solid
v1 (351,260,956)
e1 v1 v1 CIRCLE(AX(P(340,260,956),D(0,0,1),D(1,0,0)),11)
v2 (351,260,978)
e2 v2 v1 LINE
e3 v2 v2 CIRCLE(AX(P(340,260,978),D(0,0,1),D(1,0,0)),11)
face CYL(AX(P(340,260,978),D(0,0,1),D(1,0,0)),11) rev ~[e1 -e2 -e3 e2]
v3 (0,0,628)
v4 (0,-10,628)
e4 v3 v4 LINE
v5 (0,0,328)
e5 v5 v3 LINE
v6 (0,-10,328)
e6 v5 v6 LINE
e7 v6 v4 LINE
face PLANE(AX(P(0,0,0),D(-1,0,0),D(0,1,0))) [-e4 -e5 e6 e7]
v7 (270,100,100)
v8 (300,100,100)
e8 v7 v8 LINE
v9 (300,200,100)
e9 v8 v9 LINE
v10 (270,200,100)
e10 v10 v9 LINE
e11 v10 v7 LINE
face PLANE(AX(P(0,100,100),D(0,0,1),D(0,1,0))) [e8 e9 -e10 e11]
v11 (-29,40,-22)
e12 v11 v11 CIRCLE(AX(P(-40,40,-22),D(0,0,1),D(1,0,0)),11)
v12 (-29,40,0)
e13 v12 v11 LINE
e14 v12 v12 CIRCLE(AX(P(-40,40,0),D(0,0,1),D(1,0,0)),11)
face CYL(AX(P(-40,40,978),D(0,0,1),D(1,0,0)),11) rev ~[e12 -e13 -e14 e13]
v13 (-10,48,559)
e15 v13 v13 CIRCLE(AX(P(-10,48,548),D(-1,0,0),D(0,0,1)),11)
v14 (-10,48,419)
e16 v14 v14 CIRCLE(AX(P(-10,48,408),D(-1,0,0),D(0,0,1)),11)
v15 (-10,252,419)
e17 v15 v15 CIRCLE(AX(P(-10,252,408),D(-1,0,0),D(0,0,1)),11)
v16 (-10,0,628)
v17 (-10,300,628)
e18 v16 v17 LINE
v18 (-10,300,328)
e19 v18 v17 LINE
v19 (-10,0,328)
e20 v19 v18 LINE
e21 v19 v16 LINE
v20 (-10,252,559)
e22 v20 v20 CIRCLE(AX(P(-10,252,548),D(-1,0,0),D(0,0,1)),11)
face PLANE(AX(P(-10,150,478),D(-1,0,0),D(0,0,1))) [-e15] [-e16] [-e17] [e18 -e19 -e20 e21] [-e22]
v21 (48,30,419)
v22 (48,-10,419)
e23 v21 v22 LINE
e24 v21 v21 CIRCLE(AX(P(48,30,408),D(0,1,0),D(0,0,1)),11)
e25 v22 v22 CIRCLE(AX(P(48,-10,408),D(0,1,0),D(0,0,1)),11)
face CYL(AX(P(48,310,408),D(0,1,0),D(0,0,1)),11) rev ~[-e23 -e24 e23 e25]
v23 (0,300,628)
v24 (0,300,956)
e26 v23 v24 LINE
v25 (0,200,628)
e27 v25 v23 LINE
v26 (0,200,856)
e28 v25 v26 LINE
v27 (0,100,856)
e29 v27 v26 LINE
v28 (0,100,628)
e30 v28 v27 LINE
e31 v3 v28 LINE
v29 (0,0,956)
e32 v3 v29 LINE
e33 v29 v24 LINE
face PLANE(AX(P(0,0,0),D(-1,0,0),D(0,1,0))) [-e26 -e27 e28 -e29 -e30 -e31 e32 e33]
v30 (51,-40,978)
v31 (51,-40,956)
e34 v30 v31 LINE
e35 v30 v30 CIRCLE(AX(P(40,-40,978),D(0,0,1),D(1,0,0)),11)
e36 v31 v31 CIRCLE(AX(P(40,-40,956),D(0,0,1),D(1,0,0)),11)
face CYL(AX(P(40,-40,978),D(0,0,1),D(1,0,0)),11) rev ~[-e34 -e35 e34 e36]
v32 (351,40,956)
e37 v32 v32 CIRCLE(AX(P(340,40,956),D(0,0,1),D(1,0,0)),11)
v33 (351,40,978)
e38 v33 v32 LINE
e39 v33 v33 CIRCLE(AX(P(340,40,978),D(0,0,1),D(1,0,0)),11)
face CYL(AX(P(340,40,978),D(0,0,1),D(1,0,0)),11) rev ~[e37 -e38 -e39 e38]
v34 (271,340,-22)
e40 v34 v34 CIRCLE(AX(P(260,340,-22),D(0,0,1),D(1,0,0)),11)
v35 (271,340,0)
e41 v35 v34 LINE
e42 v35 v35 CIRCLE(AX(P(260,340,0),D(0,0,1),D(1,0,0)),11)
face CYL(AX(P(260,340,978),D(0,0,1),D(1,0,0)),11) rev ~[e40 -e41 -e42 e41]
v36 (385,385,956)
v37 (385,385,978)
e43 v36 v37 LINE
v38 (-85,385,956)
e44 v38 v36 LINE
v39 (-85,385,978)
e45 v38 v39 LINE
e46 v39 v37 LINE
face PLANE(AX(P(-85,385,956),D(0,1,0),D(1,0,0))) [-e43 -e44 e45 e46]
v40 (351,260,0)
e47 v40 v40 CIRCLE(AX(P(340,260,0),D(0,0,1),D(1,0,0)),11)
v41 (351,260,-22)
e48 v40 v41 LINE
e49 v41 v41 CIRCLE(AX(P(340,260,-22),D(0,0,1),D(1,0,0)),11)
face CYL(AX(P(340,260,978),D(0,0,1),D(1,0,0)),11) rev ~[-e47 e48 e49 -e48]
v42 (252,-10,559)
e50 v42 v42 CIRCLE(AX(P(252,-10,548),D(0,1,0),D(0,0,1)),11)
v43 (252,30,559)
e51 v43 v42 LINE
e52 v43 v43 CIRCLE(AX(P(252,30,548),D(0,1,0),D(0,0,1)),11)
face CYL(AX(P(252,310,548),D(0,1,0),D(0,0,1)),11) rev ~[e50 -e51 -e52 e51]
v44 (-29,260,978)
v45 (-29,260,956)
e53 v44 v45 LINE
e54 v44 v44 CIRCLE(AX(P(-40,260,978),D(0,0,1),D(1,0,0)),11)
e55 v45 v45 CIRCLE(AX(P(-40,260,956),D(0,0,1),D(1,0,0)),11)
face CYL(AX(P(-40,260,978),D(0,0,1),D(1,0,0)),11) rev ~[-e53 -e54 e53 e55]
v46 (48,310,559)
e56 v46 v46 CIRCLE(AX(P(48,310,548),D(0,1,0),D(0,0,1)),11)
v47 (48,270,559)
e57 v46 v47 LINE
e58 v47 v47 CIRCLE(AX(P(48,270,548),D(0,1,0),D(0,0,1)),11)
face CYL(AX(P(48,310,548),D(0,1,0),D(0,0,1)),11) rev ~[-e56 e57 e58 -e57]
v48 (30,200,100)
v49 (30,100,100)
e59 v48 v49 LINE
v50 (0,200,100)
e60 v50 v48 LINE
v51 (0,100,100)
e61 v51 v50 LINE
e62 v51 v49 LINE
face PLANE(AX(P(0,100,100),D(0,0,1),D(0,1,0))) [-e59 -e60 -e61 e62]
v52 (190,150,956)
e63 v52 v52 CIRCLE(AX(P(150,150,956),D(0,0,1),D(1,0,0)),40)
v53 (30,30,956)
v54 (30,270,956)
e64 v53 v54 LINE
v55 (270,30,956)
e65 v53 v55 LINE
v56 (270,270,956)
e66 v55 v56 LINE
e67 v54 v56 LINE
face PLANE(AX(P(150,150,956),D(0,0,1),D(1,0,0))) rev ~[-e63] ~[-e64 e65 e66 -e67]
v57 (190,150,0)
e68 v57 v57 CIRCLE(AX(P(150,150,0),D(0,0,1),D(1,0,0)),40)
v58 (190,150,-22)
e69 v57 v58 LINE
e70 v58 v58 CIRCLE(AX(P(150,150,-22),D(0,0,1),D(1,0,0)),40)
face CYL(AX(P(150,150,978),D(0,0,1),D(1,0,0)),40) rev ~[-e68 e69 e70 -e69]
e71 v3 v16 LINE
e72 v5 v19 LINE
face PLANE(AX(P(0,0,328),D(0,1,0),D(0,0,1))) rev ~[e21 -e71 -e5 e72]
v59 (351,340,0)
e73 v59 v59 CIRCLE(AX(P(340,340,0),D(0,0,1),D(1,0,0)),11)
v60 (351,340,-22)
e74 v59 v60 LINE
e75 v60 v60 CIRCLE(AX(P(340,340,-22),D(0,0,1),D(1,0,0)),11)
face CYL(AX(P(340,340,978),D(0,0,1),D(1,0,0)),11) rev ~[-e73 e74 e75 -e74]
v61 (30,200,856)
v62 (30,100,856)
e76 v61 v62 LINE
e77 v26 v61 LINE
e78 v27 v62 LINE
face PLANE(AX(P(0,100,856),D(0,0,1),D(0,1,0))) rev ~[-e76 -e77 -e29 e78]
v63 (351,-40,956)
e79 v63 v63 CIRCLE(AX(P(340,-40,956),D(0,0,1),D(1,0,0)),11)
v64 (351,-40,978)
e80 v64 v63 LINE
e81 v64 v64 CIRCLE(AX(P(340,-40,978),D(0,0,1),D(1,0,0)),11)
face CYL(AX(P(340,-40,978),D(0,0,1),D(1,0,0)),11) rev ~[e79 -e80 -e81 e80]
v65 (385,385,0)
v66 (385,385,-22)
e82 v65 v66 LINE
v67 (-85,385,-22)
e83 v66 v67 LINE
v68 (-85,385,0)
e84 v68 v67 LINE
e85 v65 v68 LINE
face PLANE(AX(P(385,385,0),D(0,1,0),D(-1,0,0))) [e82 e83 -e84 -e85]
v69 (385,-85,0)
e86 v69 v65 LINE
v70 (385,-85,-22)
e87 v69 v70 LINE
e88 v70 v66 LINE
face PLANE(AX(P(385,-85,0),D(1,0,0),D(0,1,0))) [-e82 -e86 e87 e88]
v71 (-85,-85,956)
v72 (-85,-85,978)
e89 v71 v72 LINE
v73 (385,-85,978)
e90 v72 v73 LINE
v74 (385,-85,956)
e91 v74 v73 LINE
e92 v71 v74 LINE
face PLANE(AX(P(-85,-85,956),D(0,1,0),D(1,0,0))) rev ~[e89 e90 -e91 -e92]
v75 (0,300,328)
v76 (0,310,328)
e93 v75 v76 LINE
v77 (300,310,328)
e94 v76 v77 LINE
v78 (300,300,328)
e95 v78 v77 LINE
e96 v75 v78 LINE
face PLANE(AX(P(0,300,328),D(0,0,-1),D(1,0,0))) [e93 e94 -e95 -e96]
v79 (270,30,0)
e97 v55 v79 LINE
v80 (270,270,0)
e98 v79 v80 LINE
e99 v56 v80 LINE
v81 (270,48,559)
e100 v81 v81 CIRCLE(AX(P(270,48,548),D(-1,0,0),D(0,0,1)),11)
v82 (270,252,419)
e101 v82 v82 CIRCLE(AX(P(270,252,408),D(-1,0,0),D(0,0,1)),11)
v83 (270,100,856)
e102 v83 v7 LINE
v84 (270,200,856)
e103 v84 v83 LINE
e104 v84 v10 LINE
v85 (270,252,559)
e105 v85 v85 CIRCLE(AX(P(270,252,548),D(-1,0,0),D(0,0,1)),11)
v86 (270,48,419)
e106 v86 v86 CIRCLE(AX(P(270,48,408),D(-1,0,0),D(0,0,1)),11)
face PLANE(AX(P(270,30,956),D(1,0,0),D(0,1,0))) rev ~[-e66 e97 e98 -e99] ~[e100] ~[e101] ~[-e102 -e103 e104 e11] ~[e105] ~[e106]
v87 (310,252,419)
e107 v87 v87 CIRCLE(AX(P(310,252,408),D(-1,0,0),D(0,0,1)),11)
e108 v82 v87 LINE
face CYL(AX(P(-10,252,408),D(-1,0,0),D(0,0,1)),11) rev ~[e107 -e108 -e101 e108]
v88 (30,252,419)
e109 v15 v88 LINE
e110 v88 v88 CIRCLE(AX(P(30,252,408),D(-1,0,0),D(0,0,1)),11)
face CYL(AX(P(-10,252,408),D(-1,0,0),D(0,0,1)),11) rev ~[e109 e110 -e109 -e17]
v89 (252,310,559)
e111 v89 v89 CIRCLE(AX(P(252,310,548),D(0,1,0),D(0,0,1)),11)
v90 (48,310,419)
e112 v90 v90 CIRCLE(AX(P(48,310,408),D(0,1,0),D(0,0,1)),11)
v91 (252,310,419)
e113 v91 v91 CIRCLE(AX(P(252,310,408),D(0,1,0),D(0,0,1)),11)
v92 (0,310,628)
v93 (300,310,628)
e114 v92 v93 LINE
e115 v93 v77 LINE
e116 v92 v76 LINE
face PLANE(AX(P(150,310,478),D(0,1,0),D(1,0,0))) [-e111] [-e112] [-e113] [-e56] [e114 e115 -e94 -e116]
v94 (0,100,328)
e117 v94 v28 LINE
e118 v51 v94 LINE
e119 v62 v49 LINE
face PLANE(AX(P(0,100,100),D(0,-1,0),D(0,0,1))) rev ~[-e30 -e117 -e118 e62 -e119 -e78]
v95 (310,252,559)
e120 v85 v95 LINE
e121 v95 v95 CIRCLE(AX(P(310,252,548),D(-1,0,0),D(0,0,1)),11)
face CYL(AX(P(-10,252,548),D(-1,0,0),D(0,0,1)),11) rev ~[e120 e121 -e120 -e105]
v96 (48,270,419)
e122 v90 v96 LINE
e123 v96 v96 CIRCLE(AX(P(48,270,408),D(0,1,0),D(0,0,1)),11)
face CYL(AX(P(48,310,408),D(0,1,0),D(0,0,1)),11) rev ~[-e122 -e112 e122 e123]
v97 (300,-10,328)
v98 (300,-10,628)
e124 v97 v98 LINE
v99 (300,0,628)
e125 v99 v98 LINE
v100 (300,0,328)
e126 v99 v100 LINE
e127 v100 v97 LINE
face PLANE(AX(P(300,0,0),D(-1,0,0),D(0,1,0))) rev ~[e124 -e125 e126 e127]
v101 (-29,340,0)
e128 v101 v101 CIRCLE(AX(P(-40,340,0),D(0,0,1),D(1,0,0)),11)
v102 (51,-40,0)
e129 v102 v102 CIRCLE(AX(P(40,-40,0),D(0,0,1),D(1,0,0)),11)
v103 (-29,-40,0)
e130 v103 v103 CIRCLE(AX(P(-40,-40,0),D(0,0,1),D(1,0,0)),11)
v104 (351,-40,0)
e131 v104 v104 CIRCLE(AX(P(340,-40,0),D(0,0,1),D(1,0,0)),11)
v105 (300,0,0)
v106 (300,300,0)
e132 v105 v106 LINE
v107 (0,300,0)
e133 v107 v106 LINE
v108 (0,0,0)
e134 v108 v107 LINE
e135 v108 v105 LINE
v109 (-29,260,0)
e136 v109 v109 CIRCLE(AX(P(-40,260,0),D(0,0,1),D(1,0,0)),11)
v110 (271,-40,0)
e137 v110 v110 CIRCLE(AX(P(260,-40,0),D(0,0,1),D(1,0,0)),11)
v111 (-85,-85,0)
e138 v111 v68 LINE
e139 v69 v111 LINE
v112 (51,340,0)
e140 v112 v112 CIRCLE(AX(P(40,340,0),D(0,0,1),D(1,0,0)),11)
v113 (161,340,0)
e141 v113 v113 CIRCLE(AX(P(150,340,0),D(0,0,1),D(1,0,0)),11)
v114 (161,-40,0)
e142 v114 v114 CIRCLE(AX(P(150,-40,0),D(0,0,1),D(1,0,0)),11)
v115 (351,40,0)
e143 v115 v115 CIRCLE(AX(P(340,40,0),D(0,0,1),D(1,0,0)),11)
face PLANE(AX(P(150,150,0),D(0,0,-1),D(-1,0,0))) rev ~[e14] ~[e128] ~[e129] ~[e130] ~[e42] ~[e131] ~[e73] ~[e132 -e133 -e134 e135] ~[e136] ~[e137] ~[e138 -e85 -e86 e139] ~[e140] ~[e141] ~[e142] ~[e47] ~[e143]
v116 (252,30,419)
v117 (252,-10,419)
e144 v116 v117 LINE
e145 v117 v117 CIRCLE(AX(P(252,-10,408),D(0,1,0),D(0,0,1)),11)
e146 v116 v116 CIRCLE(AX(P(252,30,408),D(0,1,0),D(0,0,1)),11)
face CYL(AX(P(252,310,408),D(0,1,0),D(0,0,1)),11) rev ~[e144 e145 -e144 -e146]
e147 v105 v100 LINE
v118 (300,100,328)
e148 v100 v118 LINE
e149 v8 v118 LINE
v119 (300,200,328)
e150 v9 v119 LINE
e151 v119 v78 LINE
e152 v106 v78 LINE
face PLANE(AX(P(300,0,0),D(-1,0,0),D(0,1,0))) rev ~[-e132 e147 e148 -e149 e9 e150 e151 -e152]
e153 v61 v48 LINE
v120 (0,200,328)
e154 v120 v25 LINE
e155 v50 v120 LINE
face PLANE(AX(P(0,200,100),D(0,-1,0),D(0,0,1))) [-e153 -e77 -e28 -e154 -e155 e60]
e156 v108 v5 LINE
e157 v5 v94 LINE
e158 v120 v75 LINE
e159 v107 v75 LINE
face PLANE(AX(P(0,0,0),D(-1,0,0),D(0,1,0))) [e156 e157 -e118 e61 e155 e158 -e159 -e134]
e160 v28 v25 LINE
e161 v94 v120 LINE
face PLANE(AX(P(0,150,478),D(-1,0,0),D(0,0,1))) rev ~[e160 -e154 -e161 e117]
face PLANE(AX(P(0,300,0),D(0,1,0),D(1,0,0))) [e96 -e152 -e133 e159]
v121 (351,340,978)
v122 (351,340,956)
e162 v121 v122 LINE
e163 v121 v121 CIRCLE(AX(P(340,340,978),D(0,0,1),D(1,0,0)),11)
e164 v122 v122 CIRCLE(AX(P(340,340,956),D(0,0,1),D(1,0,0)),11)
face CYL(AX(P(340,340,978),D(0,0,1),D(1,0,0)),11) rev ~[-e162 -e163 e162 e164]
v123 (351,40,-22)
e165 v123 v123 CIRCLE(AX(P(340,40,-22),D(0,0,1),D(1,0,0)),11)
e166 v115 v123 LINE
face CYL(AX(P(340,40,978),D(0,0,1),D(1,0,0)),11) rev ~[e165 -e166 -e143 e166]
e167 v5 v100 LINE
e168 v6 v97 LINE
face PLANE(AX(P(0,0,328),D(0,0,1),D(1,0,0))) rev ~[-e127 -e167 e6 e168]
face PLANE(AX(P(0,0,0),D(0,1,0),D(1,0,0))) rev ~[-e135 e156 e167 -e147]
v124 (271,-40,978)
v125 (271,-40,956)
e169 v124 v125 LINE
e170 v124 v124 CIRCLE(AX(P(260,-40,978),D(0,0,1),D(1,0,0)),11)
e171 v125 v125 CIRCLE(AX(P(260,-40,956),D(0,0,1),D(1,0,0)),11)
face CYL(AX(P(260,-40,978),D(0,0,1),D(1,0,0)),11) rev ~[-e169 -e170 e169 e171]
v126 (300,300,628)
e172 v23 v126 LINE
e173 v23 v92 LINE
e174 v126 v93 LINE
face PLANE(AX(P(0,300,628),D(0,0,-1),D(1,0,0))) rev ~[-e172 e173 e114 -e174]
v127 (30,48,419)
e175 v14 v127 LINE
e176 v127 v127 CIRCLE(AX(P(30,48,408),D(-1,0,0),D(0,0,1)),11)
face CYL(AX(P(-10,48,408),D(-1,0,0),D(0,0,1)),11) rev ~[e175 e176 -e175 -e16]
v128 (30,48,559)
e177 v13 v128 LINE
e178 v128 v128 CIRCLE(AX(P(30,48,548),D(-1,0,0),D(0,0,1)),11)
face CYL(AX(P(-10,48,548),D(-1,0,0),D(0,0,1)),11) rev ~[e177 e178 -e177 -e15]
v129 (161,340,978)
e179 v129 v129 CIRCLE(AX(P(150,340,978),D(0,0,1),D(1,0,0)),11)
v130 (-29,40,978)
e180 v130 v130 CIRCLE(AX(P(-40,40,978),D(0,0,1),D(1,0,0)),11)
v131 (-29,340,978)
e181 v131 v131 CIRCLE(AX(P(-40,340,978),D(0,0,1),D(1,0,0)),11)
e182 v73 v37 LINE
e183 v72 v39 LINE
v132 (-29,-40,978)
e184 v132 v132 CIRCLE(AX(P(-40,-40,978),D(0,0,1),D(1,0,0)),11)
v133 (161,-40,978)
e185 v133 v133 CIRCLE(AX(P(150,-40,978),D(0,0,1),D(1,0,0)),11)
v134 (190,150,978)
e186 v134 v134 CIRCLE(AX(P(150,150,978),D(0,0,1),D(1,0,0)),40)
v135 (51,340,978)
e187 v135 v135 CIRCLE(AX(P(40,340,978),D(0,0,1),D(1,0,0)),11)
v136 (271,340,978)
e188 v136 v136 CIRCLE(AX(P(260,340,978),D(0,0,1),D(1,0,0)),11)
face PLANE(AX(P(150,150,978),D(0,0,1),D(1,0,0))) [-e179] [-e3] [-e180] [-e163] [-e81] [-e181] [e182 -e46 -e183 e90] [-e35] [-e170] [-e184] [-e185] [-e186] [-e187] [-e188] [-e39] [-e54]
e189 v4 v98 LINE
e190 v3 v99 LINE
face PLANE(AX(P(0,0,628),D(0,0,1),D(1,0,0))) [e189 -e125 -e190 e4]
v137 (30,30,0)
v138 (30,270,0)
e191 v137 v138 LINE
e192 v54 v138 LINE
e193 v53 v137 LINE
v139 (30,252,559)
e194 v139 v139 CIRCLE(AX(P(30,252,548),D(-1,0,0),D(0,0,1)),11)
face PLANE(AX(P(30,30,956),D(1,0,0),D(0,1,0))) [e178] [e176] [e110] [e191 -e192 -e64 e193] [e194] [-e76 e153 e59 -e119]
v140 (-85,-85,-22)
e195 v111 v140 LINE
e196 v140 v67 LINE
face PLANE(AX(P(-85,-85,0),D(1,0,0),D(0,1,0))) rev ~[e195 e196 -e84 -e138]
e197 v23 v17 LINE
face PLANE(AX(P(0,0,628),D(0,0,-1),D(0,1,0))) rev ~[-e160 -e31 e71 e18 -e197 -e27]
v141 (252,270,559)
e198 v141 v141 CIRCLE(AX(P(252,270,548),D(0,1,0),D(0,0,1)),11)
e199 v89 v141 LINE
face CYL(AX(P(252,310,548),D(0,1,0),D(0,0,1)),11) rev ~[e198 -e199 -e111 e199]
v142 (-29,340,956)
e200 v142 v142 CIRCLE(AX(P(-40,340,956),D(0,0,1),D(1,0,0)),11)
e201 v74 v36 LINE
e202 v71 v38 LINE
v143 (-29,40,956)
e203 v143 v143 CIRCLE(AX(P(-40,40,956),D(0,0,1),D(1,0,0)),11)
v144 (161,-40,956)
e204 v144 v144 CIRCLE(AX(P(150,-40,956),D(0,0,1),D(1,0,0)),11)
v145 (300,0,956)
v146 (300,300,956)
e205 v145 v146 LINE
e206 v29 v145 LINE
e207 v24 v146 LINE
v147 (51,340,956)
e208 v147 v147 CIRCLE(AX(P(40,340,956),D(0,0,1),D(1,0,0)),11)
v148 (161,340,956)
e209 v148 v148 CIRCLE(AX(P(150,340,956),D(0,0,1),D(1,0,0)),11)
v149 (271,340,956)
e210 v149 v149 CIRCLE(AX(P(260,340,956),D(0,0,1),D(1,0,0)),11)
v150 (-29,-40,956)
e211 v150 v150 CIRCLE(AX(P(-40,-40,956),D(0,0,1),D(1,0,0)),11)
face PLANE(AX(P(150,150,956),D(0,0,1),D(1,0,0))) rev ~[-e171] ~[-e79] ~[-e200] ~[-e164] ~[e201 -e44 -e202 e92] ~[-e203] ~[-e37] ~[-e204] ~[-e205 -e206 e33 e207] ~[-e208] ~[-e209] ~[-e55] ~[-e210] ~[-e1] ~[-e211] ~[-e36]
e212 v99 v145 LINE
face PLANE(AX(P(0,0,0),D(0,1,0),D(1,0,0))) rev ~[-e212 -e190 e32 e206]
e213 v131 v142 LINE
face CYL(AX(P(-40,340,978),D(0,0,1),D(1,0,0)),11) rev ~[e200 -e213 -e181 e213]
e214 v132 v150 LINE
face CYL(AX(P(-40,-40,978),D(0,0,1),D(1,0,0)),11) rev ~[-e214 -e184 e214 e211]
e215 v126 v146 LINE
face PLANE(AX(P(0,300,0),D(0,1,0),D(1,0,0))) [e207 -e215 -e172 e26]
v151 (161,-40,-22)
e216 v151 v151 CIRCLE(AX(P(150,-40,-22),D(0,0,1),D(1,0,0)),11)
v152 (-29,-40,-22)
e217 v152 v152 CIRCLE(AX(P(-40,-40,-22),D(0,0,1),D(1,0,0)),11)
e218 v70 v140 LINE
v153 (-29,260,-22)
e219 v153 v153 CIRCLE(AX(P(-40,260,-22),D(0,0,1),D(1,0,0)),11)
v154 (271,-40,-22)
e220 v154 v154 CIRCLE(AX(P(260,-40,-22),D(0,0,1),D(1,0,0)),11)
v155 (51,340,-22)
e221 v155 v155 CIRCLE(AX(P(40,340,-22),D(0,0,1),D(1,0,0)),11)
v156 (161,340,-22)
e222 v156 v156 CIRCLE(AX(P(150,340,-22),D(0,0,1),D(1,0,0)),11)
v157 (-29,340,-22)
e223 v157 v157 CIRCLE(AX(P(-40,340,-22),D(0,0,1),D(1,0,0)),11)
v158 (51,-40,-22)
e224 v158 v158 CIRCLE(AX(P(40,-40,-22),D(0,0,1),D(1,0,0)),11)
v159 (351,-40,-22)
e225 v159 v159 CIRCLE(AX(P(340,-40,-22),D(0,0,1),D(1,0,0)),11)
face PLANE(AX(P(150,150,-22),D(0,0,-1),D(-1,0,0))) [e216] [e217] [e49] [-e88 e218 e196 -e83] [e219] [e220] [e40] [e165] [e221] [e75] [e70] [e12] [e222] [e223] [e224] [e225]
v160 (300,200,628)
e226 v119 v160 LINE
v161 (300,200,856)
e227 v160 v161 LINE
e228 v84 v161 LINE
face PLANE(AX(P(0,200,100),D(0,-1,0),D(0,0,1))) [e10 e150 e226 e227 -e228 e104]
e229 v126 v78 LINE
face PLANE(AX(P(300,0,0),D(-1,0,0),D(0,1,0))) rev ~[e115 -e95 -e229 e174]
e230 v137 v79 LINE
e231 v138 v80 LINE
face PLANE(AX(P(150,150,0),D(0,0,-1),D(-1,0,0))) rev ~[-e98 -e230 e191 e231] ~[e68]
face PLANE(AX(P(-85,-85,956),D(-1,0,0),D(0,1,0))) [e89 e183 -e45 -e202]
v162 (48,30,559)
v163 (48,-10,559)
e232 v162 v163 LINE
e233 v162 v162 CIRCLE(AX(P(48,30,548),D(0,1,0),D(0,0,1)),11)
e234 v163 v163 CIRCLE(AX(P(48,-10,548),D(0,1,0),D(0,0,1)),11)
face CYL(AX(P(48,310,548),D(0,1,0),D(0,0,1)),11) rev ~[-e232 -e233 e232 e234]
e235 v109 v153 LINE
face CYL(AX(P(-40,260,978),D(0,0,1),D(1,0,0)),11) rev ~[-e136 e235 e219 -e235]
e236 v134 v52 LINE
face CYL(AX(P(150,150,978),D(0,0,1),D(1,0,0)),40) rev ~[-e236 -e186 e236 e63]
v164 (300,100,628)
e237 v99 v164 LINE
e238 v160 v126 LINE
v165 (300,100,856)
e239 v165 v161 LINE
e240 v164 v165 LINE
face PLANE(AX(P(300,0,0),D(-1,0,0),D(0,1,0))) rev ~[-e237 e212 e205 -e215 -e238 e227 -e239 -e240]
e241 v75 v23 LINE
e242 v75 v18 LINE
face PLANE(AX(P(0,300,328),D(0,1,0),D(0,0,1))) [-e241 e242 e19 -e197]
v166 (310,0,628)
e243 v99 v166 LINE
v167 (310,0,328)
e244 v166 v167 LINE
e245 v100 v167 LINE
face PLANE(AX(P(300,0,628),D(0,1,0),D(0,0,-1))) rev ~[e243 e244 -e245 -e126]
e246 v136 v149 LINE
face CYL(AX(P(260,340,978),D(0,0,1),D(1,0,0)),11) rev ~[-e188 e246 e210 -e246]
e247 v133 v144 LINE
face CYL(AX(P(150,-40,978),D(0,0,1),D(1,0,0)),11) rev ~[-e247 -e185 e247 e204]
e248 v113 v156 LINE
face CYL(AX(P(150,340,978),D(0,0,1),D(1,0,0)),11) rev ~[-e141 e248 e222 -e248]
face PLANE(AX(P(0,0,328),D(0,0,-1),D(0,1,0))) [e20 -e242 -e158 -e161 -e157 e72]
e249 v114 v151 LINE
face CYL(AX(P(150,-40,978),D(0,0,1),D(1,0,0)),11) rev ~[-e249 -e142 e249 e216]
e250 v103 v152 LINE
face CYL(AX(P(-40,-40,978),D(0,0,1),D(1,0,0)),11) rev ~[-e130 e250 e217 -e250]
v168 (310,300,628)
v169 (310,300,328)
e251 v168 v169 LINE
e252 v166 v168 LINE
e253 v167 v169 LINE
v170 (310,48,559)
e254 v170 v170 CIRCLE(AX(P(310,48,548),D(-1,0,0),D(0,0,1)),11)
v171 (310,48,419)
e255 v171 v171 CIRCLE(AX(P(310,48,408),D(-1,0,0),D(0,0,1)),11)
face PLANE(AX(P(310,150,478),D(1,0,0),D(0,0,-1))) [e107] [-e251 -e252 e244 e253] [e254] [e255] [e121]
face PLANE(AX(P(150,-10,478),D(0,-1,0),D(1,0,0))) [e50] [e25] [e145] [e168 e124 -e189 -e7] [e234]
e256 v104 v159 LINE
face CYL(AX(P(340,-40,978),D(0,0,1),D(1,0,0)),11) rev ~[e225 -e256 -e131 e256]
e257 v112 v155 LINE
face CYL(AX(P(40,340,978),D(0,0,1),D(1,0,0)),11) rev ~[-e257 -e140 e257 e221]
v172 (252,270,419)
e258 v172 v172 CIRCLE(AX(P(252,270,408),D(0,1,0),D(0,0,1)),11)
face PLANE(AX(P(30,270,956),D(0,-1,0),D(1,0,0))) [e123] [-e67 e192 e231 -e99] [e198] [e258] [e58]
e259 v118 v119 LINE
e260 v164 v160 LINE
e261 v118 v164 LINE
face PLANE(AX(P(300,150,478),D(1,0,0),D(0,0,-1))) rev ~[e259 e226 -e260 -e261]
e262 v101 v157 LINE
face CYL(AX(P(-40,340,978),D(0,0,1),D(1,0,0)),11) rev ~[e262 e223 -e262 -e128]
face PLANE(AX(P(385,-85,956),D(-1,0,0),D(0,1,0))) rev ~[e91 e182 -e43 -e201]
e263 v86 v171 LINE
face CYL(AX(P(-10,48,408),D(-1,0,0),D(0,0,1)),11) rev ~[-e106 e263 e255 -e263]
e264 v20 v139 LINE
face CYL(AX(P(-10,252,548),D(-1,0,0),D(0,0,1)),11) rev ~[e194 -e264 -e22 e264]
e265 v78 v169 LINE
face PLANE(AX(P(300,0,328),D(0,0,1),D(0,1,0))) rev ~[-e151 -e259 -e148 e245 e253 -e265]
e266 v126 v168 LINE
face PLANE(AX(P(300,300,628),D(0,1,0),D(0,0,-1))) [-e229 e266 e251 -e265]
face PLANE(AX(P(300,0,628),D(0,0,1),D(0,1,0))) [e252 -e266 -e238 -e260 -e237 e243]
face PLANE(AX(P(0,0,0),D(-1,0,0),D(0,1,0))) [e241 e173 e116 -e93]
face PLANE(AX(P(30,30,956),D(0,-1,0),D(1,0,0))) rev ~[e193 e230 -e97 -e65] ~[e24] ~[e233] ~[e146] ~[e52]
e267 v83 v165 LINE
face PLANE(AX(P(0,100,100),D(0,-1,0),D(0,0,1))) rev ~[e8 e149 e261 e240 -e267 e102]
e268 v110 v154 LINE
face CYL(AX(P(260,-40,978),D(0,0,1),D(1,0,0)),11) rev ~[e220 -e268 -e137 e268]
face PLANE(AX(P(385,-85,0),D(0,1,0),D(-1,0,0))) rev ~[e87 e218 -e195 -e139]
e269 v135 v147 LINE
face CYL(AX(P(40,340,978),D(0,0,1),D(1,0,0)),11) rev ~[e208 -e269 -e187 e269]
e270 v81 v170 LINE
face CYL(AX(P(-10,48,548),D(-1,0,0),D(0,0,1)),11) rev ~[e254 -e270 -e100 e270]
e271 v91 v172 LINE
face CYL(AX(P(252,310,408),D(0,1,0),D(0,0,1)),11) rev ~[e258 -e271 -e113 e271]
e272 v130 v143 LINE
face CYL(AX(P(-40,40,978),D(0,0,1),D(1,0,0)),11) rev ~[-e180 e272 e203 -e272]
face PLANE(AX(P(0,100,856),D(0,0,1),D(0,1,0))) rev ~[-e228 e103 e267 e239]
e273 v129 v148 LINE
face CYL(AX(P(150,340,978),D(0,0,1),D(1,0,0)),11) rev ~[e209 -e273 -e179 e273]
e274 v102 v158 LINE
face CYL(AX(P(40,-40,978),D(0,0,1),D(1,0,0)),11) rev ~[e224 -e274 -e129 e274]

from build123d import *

# Parameters (mm, degrees)
SKETCH_1_W          = 300
SKETCH_1_H          = 300
EXTRUDE_1_DEPTH     = 956
SKETCH_2_W          = 240
SKETCH_2_H          = 240
CUT_EXTRUDE_1_DEPTH = 1046.913954396
SKETCH_4_W          = 756
SKETCH_4_H          = 100
CUT_EXTRUDE_2_DEPTH = 1046.913954396
SKETCH_5_W          = 470
SKETCH_5_H          = 470
EXTRUDE_2_DEPTH     = 22
SKETCH_6_W          = 470
SKETCH_6_H          = 470
EXTRUDE_3_DEPTH     = 22
SKETCH_7_R          = 11
CUT_EXTRUDE_3_DEPTH = 1139.617582861
SKETCH_9_W          = 300
SKETCH_9_H          = 300
EXTRUDE_4_DEPTH     = 10
SKETCH_10_W         = 300
SKETCH_10_H         = 300
EXTRUDE_5_DEPTH     = 10
SKETCH_11_W         = 300
SKETCH_11_H         = 300
EXTRUDE_6_DEPTH     = 10
SKETCH_12_W         = 300
SKETCH_12_H         = 300
EXTRUDE_7_DEPTH     = 10
SKETCH_13_R         = 11
CUT_EXTRUDE_4_DEPTH = 1123.824118017
SKETCH_14_R         = 11
CUT_EXTRUDE_5_DEPTH = 1123.824118017
SKETCH_15_R         = 40
CUT_EXTRUDE_6_DEPTH = 1139.617582861


with BuildPart() as part:
    # 草图1 → 拉伸1 (new body)
    with BuildSketch(Plane.XY):
        with Locations((150, 150)):
            Rectangle(SKETCH_1_W, SKETCH_1_H)
    extrude(amount=EXTRUDE_1_DEPTH)

    # 草图2 → 切除-拉伸1 (cut, through all)
    with BuildSketch(Plane.XY.offset(956)):
        with Locations((150, 150)):
            Rectangle(SKETCH_2_W, SKETCH_2_H)
    extrude(amount=-CUT_EXTRUDE_1_DEPTH, mode=Mode.SUBTRACT)

    # 草图4 → 切除-拉伸2 (cut, through all)
    with BuildSketch(Plane.ZY):
        with Locations((478, 150)):
            Rectangle(SKETCH_4_W, SKETCH_4_H)
    extrude(amount=-CUT_EXTRUDE_2_DEPTH, mode=Mode.SUBTRACT)

    # 草图5 → 拉伸2 (add)
    with BuildSketch(Plane.XY.offset(956)):
        with Locations((150, 150)):
            Rectangle(SKETCH_5_W, SKETCH_5_H)
    extrude(amount=EXTRUDE_2_DEPTH)

    # 草图6 → 拉伸3 (add)
    with BuildSketch(Plane(origin=(0, 0, 0), x_dir=(-1, 0, 0), z_dir=(0, 0, -1))):
        with Locations((-150, 150)):
            Rectangle(SKETCH_6_W, SKETCH_6_H)
    extrude(amount=EXTRUDE_3_DEPTH)

    # 草图7 → 切除-拉伸3 (cut, through all)
    with BuildSketch(Plane.XY.offset(978)):
        with Locations((-40, -40)):
            Circle(SKETCH_7_R)
        with Locations((40, -40)):
            Circle(SKETCH_7_R)
        with Locations((150, -40)):
            Circle(SKETCH_7_R)
        with Locations((260, -40)):
            Circle(SKETCH_7_R)
        with Locations((340, -40)):
            Circle(SKETCH_7_R)
        with Locations((-40, 340)):
            Circle(SKETCH_7_R)
        with Locations((40, 340)):
            Circle(SKETCH_7_R)
        with Locations((150, 340)):
            Circle(SKETCH_7_R)
        with Locations((260, 340)):
            Circle(SKETCH_7_R)
        with Locations((340, 340)):
            Circle(SKETCH_7_R)
        with Locations((-40, 40)):
            Circle(SKETCH_7_R)
        with Locations((-40, 260)):
            Circle(SKETCH_7_R)
        with Locations((340, 40)):
            Circle(SKETCH_7_R)
        with Locations((340, 260)):
            Circle(SKETCH_7_R)
    extrude(amount=-CUT_EXTRUDE_3_DEPTH, mode=Mode.SUBTRACT)

    # 草图9 → 拉伸4 (add)
    with BuildSketch(Plane(origin=(0, 300, 0), x_dir=(1, 0, 0), z_dir=(0, 1, 0))):
        with Locations((150, -478)):
            Rectangle(SKETCH_9_W, SKETCH_9_H)
    extrude(amount=EXTRUDE_4_DEPTH)

    # 草图10 → 拉伸5 (add)
    with BuildSketch(Plane.XZ):
        with Locations((150, 478)):
            Rectangle(SKETCH_10_W, SKETCH_10_H)
    extrude(amount=EXTRUDE_5_DEPTH)

    # 草图11 → 拉伸6 (add)
    with BuildSketch(Plane(origin=(300, 0, 0), x_dir=(0, 0, -1), z_dir=(1, 0, 0))):
        with Locations((-478, 150)):
            Rectangle(SKETCH_11_W, SKETCH_11_H)
    extrude(amount=EXTRUDE_6_DEPTH)

    # 草图12 → 拉伸7 (add)
    with BuildSketch(Plane.ZY):
        with Locations((478, 150)):
            Rectangle(SKETCH_12_W, SKETCH_12_H)
    extrude(amount=EXTRUDE_7_DEPTH)

    # 草图13 → 切除-拉伸4 (cut, through all)
    with BuildSketch(Plane.ZY.offset(10)):
        with Locations((408, 48)):
            Circle(SKETCH_13_R)
        with Locations((408, 252)):
            Circle(SKETCH_13_R)
        with Locations((548, 252)):
            Circle(SKETCH_13_R)
        with Locations((548, 48)):
            Circle(SKETCH_13_R)
    extrude(amount=-CUT_EXTRUDE_4_DEPTH, mode=Mode.SUBTRACT)

    # 草图14 → 切除-拉伸5 (cut, through all)
    with BuildSketch(Plane(origin=(0, 310, 0), x_dir=(1, 0, 0), z_dir=(0, 1, 0))):
        with Locations(Location((48, -548, 0), (0, 0, 270))):
            Circle(SKETCH_14_R)
        with Locations(Location((252, -548, 0), (0, 0, 270))):
            Circle(SKETCH_14_R)
        with Locations(Location((252, -408, 0), (0, 0, 270))):
            Circle(SKETCH_14_R)
        with Locations(Location((48, -408, 0), (0, 0, 270))):
            Circle(SKETCH_14_R)
    extrude(amount=-CUT_EXTRUDE_5_DEPTH, mode=Mode.SUBTRACT)

    # 草图15 → 切除-拉伸6 (cut, through all)
    with BuildSketch(Plane.XY.offset(978)):
        with Locations((150, 150)):
            Circle(SKETCH_15_R)
    extrude(amount=-CUT_EXTRUDE_6_DEPTH, mode=Mode.SUBTRACT)


solid = part.part
